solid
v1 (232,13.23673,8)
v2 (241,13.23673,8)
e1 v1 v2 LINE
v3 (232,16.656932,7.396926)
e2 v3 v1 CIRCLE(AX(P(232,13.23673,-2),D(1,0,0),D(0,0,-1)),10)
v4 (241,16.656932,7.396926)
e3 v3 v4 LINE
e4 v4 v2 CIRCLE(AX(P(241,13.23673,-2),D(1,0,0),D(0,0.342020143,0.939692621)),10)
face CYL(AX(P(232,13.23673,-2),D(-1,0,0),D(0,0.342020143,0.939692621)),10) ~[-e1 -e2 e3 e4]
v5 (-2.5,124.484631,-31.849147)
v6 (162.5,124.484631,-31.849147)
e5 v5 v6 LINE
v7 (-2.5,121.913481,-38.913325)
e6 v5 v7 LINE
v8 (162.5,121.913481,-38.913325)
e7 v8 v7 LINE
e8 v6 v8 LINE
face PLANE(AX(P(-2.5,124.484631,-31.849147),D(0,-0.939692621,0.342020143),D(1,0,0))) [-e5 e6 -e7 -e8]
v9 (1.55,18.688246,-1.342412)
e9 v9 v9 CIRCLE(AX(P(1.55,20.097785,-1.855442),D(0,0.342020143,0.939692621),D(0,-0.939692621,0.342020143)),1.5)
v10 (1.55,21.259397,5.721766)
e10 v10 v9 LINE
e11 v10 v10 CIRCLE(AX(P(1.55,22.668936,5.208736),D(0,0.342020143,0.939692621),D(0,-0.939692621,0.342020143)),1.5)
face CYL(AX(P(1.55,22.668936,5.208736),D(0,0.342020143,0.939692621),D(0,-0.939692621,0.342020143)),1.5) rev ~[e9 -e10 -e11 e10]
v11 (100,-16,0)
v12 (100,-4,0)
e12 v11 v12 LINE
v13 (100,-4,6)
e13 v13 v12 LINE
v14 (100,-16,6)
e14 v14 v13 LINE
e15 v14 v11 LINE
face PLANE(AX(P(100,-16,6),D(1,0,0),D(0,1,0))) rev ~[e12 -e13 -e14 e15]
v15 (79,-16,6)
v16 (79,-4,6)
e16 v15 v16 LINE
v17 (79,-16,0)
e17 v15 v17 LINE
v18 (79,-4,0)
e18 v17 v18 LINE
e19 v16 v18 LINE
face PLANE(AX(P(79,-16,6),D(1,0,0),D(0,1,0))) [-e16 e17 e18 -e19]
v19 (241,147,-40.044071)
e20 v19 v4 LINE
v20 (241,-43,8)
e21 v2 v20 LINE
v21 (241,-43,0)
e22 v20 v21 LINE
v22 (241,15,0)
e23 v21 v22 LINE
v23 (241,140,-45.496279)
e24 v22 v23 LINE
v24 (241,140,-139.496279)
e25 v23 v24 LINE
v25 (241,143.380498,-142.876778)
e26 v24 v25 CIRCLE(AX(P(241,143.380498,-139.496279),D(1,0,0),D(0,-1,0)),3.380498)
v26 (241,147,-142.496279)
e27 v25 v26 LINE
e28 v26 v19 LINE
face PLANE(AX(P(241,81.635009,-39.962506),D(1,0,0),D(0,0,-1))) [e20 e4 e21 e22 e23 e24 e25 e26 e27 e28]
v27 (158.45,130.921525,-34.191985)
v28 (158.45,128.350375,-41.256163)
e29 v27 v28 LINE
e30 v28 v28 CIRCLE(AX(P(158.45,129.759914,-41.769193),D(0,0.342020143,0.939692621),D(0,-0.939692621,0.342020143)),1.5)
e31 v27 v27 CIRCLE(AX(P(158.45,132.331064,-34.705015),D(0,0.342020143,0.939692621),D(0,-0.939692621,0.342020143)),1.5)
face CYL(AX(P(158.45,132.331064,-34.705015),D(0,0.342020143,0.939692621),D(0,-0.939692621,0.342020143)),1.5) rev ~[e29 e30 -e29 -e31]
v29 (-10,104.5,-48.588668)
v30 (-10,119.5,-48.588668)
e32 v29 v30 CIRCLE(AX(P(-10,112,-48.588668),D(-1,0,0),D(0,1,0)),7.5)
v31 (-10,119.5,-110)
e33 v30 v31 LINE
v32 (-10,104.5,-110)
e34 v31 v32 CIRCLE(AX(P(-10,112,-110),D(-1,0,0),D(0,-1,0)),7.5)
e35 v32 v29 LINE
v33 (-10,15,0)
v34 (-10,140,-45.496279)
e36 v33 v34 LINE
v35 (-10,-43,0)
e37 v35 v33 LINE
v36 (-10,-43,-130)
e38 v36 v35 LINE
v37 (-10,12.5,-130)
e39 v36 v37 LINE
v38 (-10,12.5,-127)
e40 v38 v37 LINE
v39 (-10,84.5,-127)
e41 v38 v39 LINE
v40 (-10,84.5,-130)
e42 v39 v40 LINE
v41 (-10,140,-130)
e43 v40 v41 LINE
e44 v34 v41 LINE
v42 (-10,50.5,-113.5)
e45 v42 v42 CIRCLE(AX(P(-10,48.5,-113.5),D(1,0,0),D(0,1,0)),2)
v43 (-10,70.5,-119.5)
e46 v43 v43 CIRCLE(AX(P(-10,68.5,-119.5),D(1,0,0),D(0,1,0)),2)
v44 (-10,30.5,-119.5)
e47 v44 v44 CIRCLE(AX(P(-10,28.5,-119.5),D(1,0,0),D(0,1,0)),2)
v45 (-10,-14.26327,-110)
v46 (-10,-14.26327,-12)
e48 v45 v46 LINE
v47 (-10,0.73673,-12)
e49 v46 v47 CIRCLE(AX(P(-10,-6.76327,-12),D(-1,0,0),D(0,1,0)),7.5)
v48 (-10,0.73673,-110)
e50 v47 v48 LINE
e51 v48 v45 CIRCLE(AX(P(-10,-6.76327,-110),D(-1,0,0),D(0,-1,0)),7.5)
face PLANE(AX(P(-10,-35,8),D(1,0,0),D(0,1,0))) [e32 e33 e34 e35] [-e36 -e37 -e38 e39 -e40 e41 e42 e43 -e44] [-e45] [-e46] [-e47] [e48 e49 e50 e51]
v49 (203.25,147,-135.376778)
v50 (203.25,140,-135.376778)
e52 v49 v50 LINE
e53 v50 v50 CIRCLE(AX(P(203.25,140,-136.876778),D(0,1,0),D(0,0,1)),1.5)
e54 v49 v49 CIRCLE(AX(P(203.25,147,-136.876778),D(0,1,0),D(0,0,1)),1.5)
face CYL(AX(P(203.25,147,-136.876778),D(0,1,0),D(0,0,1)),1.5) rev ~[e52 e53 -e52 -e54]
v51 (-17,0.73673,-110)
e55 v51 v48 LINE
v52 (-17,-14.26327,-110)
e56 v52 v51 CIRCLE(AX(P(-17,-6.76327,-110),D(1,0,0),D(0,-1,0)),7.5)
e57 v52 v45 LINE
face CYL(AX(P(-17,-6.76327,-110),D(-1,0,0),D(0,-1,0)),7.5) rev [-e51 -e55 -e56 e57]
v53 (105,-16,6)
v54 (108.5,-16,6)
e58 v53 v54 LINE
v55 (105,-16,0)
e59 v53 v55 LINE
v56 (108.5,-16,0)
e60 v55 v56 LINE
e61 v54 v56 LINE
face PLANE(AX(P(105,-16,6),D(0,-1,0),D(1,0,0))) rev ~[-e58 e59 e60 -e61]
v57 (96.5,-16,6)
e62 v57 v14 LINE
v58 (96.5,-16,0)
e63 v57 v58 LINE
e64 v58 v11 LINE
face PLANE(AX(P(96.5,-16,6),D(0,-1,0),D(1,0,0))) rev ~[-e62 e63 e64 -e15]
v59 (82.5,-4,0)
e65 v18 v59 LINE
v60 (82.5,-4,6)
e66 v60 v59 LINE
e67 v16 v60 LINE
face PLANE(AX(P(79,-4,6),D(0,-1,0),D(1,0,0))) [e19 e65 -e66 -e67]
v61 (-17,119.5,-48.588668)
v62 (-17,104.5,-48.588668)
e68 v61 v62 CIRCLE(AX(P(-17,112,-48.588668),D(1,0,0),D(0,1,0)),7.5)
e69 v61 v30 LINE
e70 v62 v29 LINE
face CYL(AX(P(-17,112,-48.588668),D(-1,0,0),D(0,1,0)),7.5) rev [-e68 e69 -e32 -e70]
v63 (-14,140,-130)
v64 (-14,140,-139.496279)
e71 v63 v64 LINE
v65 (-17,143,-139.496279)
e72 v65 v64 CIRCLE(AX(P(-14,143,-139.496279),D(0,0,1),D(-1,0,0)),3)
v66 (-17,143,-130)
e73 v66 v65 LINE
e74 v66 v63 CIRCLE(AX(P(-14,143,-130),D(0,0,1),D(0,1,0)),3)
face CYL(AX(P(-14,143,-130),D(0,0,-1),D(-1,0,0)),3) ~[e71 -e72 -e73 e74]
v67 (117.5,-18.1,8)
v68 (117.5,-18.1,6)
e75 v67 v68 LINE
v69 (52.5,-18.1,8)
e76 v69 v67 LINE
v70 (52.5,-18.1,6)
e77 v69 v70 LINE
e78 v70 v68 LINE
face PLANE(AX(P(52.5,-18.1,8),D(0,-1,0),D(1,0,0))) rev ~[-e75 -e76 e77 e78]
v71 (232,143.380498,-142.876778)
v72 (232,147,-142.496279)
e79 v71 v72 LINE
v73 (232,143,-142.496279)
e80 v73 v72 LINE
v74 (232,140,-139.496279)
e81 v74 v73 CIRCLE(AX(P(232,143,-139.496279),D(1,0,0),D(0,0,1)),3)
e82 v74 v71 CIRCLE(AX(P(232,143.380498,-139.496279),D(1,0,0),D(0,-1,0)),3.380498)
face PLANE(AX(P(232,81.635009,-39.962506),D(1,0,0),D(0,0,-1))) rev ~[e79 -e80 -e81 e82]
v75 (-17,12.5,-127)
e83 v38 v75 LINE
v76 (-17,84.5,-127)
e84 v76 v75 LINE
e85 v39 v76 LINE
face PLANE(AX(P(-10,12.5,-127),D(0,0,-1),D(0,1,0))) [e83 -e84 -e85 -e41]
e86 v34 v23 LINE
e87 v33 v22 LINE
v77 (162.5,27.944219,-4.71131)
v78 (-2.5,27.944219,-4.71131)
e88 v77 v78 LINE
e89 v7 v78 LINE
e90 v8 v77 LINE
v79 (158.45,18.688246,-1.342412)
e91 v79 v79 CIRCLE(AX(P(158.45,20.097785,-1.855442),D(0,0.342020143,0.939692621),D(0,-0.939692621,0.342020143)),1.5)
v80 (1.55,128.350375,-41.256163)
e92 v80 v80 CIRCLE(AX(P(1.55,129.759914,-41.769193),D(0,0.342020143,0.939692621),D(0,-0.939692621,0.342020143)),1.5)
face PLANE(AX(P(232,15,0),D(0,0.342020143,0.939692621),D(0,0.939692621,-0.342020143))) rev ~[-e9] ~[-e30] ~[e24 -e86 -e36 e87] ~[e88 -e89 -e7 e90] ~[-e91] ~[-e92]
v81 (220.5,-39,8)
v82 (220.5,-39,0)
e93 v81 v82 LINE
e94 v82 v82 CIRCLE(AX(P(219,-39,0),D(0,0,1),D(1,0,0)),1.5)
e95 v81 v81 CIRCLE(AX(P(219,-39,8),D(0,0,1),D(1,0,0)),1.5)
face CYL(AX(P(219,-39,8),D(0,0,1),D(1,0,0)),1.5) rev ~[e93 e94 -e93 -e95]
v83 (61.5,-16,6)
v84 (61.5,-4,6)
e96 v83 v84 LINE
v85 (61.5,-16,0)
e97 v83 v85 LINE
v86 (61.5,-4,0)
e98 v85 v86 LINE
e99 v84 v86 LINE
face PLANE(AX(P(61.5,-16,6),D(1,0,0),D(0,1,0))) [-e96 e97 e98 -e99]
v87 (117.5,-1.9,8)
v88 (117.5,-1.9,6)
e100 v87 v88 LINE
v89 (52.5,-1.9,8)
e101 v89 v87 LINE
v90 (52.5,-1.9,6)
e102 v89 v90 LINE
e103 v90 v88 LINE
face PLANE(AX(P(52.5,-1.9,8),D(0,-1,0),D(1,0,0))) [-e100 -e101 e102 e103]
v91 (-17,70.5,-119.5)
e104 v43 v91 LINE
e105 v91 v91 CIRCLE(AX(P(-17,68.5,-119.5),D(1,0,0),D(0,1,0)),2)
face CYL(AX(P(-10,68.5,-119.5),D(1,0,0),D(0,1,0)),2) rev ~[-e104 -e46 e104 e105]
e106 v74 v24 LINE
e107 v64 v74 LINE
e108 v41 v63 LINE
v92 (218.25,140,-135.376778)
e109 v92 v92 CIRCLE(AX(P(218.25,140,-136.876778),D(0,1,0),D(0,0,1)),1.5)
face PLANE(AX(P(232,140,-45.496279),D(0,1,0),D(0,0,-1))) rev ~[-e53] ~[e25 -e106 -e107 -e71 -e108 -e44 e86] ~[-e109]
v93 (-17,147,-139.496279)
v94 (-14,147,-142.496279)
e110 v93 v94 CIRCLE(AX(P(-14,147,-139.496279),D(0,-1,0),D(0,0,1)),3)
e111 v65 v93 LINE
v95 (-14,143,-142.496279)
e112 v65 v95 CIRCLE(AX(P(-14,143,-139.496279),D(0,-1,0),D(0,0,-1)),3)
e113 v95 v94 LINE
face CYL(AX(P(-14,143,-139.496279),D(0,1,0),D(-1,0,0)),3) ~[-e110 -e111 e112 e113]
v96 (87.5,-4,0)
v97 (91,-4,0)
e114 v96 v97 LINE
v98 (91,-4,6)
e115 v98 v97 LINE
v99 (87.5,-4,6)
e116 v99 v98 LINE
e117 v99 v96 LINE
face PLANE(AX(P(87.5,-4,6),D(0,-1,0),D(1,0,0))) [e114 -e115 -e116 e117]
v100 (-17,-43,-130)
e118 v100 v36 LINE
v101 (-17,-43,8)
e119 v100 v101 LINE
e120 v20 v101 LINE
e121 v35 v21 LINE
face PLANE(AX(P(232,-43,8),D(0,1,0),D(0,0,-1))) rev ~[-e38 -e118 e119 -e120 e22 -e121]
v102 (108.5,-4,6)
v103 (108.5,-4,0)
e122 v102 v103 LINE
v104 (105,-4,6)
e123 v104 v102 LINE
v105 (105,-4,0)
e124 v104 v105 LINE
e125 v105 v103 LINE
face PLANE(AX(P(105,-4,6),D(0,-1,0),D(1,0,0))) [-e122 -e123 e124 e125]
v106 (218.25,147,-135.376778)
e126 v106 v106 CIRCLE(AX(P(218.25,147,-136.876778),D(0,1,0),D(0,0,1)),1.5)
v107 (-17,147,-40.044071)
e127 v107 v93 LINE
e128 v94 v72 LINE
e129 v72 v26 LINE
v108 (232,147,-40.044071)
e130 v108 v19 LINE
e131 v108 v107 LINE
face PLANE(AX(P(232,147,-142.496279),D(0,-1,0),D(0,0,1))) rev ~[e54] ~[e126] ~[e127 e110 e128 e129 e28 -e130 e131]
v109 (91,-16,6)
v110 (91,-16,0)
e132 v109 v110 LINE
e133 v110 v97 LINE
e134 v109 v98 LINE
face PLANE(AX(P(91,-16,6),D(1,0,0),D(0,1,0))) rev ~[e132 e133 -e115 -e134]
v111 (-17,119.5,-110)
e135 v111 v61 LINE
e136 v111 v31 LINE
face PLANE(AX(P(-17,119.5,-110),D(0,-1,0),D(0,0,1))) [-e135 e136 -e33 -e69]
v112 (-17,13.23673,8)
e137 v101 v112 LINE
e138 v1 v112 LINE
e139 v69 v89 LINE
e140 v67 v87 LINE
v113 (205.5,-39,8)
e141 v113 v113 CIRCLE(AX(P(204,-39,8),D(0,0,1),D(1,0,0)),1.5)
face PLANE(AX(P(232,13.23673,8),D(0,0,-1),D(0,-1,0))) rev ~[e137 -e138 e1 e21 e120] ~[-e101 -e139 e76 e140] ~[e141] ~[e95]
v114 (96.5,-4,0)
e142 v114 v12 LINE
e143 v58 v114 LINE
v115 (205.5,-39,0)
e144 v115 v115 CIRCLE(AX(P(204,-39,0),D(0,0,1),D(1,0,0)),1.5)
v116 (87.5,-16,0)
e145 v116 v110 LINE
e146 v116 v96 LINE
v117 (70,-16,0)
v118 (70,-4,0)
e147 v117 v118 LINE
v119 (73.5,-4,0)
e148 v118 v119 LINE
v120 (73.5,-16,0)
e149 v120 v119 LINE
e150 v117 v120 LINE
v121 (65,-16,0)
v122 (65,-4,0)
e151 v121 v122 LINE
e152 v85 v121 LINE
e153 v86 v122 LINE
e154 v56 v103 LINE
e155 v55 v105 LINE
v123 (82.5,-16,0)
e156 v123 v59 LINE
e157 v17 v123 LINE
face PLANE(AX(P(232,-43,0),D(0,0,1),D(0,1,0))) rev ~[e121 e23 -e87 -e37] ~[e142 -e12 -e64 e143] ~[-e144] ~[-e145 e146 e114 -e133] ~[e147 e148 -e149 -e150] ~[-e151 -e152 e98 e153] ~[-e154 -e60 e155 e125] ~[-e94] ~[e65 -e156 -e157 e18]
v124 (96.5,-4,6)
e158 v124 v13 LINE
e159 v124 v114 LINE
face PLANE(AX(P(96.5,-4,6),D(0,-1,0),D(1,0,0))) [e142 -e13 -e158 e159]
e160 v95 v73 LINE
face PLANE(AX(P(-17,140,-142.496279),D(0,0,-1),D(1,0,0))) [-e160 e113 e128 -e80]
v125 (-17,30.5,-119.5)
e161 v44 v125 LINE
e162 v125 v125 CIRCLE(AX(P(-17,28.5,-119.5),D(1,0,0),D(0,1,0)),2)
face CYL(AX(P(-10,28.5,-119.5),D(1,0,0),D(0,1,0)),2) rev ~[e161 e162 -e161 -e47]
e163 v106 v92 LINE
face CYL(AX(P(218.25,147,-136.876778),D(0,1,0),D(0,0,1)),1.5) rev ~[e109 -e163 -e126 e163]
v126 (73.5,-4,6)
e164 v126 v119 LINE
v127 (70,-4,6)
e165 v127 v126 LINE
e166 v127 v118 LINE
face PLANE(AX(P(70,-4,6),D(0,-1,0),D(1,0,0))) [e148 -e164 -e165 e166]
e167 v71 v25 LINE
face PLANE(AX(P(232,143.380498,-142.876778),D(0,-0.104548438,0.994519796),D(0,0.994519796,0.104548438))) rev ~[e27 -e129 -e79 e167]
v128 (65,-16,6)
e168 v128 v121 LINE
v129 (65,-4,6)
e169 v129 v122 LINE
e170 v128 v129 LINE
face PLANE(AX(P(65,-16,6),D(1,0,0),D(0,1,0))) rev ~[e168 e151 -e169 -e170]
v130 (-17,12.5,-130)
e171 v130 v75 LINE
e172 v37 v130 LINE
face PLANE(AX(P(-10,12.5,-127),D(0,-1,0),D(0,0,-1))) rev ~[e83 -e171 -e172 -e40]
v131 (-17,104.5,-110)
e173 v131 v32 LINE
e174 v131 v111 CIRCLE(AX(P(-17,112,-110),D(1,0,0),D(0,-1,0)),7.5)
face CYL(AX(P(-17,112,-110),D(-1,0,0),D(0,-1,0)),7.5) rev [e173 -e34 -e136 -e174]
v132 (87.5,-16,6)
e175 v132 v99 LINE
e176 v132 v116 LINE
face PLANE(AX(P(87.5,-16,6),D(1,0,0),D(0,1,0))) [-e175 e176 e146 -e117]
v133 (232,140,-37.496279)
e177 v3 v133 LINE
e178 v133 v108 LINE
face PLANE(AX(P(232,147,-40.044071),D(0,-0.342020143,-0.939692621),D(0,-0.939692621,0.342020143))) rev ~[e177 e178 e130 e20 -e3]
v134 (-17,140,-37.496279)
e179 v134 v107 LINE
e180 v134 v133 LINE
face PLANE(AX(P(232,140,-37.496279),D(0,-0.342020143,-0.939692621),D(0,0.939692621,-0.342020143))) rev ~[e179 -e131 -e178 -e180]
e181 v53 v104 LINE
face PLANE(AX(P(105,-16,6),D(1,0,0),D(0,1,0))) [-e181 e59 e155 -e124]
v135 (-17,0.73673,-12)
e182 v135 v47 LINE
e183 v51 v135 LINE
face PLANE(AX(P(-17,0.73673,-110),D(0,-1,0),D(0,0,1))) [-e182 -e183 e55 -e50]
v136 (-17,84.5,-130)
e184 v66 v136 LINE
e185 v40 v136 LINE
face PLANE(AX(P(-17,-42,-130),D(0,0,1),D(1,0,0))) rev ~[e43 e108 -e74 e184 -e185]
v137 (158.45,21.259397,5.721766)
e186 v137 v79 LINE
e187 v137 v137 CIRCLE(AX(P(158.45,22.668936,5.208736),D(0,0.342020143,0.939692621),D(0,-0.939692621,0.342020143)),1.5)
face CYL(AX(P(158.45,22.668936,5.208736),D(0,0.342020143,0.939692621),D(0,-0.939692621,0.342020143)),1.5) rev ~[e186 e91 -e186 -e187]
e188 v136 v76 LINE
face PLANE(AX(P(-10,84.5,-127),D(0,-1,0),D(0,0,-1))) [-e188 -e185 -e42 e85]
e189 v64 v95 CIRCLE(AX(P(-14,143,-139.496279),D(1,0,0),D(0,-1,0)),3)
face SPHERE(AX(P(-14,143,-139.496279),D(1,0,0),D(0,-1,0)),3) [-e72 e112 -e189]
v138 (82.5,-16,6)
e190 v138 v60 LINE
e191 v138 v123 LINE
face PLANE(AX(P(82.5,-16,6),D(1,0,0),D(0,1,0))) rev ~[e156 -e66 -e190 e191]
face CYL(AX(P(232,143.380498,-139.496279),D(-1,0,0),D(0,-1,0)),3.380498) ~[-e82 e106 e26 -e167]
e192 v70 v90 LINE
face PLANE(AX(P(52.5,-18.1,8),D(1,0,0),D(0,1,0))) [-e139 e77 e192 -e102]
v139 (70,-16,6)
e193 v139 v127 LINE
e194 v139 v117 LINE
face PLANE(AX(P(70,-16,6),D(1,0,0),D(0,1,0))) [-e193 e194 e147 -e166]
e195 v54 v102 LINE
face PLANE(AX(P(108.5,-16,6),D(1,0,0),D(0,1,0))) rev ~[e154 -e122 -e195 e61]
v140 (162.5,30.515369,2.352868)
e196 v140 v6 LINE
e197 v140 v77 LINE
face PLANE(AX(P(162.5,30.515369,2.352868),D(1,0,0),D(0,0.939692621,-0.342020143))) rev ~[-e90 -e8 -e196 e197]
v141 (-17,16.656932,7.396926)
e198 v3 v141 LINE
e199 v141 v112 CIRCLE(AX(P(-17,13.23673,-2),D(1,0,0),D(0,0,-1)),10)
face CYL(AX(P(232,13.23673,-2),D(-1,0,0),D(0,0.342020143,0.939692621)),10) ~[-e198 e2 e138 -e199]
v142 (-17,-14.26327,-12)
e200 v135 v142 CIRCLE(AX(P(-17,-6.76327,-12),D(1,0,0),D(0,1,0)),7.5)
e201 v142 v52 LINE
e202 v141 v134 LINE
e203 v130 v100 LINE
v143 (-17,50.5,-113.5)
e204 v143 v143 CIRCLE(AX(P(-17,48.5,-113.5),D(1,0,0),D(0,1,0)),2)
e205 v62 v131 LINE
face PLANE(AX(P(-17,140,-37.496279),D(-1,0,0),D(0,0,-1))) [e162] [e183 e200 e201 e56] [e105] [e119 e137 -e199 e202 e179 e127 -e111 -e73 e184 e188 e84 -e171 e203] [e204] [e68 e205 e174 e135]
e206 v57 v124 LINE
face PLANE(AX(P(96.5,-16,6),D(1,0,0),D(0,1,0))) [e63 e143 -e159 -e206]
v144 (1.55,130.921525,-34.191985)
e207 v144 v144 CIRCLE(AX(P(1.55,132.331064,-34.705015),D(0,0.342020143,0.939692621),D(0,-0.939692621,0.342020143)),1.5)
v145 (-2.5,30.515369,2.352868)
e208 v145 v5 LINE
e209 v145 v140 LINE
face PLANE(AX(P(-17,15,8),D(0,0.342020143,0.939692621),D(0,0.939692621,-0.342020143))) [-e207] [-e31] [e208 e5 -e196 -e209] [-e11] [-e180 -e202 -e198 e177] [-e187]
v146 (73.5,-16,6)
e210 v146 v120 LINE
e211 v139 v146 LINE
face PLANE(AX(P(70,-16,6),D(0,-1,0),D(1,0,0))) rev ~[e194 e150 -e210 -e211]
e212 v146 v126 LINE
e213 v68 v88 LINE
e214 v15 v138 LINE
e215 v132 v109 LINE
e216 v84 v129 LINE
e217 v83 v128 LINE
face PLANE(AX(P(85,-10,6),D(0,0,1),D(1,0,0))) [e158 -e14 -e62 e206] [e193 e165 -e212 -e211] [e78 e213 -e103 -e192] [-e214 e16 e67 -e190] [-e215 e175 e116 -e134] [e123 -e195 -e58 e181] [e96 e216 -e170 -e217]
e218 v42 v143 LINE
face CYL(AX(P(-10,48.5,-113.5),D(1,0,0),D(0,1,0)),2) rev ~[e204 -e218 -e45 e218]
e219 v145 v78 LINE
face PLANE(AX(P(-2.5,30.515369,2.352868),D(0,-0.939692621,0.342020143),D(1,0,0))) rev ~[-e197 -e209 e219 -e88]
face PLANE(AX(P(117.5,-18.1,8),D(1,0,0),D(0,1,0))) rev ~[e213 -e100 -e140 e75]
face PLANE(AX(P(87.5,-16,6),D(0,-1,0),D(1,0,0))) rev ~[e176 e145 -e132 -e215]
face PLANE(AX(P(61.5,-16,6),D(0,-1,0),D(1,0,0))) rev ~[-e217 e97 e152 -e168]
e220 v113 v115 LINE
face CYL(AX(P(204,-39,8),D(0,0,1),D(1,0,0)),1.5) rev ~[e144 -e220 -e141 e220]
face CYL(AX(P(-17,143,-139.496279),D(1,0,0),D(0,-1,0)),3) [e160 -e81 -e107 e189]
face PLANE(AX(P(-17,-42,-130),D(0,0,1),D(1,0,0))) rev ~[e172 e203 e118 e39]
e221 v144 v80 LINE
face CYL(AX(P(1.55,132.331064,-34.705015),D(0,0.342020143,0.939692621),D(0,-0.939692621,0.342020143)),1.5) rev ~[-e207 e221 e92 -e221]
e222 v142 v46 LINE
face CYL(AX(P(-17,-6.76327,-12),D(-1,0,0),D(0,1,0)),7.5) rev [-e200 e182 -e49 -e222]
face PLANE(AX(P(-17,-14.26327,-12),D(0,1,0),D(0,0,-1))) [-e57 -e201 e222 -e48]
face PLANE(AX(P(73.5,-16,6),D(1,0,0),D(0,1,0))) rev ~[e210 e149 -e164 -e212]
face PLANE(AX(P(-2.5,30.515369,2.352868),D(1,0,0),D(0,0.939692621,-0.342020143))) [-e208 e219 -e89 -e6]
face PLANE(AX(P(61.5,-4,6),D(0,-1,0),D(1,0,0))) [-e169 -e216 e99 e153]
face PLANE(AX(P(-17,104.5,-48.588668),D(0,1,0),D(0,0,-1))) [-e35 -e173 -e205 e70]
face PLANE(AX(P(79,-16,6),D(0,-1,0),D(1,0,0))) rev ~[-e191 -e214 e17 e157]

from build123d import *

# Parameters (mm, degrees)
SKETCH1_W                = 170
SKETCH1_H                = 130
BOSS_EXTRUDE1_DEPTH      = 8
SKETCH2_R                = 1.5
SKETCH2_W                = 165
SKETCH2_H                = 100
CUT_EXTRUDE1_DEPTH       = 21
SKETCH3_W                = 170
SKETCH3_H                = 20
BOSS_EXTRUDE2_DEPTH      = 8
SKETCH4_W                = 65
SKETCH4_H                = 16.2
CUT_EXTRUDE2_DEPTH       = 2
SKETCH5_W                = 3.5
SKETCH5_H                = 12
CUT_EXTRUDE3_DEPTH       = 35
SKETCH6_W                = 170
SKETCH6_H                = 150
BOSS_EXTRUDE3_DEPTH      = 8
BOSS_EXTRUDE4_DEPTH      = 138
SKETCH8_W                = 249
SKETCH8_H                = 138
BOSS_EXTRUDE5_DEPTH      = 1
SKETCH9_W                = 72.8
SKETCH9_H                = 73.25
CUT_EXTRUDE4_DEPTH       = 19
BOSS_EXTRUDE6_DEPTH      = 5
SKETCH11_R               = 1.5
CUT_EXTRUDE5_DEPTH       = 56
SKETCH12_R               = 9
SKETCH12_R_2             = 6.5
SKETCH12_R_3             = 1
SKETCH12_R_4             = 2.75
CUT_EXTRUDE6_DEPTH       = 115
SKETCH13_W               = 58.59049163
SKETCH13_H               = 30.075830986
CUT_EXTRUDE7_DEPTH       = 3
FILLET1_R                = 2
SKETCH15_R               = 1.5
CUT_EXTRUDE8_DEPTH       = 10
CUT_EXTRUDE10_DEPTH      = 261
SKETCH19_R               = 1.5
BOSS_EXTRUDE7_DEPTH      = 8
BOSS_EXTRUDE12_START     = -124.5
BOSS_EXTRUDE12_DEPTH     = 249
SKETCH22_R               = 1.5
SKETCH22_W               = 165
SKETCH22_H               = 100
CUT_EXTRUDE11_DEPTH      = 18
FILLET2_R                = 10
SKETCH24_R               = 2
SKETCH24_W               = 3
SKETCH24_H               = 72
CUT_EXTRUDE15_DEPTH      = 42
CUT_EXTRUDE16_DEPTH      = 140
CUT_EXTRUDE16_DEPTH_BACK = 242
SKETCH27_W               = 249
SKETCH27_H               = 105
BOSS_EXTRUDE13_DEPTH     = 7
CUT_EXTRUDE17_DEPTH      = 249
FILLET6_R                = 3
FILLET7_R                = 3
BOSS_EXTRUDE14_DEPTH     = 9
SKETCH30_R               = 1.5
CUT_EXTRUDE18_DEPTH      = 10
SKETCH31_R               = 1.5
CUT_EXTRUDE19_DEPTH      = 49
CUT_EXTRUDE20_DEPTH      = 49


with BuildPart() as part:
    # Sketch1 → Boss-Extrude1 (new body)
    with BuildSketch(Plane.XY):
        with Locations((85, 65)):
            Rectangle(SKETCH1_W, SKETCH1_H)
    extrude(amount=BOSS_EXTRUDE1_DEPTH)

    # Sketch2 → Cut-Extrude1 (cut)
    with BuildSketch(Plane.XY.offset(8)):
        with Locations((6.55, 123.35)):
            Circle(SKETCH2_R)
        with Locations((163.45, 123.35)):
            Circle(SKETCH2_R)
        with Locations((6.55, 6.65)):
            Circle(SKETCH2_R)
        with Locations((163.45, 6.65)):
            Circle(SKETCH2_R)
        with Locations((85, 65)):
            Rectangle(SKETCH2_W, SKETCH2_H)
    extrude(amount=-CUT_EXTRUDE1_DEPTH, mode=Mode.SUBTRACT)

    # Sketch3 → Boss-Extrude2 (add)
    with BuildSketch(Plane.XY.offset(8)):
        with Locations((85, -10)):
            Rectangle(SKETCH3_W, SKETCH3_H)
    extrude(amount=-BOSS_EXTRUDE2_DEPTH)

    # Sketch4 → Cut-Extrude2 (cut)
    with BuildSketch(Plane.XY.offset(8)):
        with Locations((85, -10)):
            Rectangle(SKETCH4_W, SKETCH4_H)
    extrude(amount=-CUT_EXTRUDE2_DEPTH, mode=Mode.SUBTRACT)

    # Sketch5 → Cut-Extrude3 (cut)
    with BuildSketch(Plane.XY.offset(6)):
        with Locations((63.25, -10)):
            Rectangle(SKETCH5_W, SKETCH5_H)
        with Locations((71.75, -10)):
            Rectangle(SKETCH5_W, SKETCH5_H)
        with Locations((80.75, -10)):
            Rectangle(SKETCH5_W, SKETCH5_H)
        with Locations((89.25, -10)):
            Rectangle(SKETCH5_W, SKETCH5_H)
        with Locations((98.25, -10)):
            Rectangle(SKETCH5_W, SKETCH5_H)
        with Locations((106.75, -10)):
            Rectangle(SKETCH5_W, SKETCH5_H)
    extrude(amount=-CUT_EXTRUDE3_DEPTH, mode=Mode.SUBTRACT)

    # Sketch6 → Boss-Extrude3 (add)
    with BuildSketch(Plane.XY.offset(8)):
        Polygon((15.504384948, 140), (225, 140), (225, -35), (-10, -35), (-10, 140), align=None)
        with Locations((85, 55)):
            Rectangle(SKETCH6_W, SKETCH6_H, mode=Mode.SUBTRACT)
    extrude(amount=-BOSS_EXTRUDE3_DEPTH)

    # Sketch7 → Boss-Extrude4 (add)
    with BuildSketch(Plane.XY.offset(8)):
        Polygon((-10, 140), (-17, 140), (-17, -42), (232, -42), (232, 140), (225, 140), (225, -35), (-10, -35), align=None)
    extrude(amount=-BOSS_EXTRUDE4_DEPTH)

    # Sketch8 → Boss-Extrude5 (add)
    with BuildSketch(Plane.XZ.offset(42)):
        with Locations((107.5, -61)):
            Rectangle(SKETCH8_W, SKETCH8_H)
    extrude(amount=BOSS_EXTRUDE5_DEPTH)

    # Sketch9 → Cut-Extrude4 (cut)
    with BuildSketch(Plane(origin=(232, 0, 0), x_dir=(0, 0, -1), z_dir=(1, 0, 0))):
        with Locations((75, 35)):
            Rectangle(SKETCH9_W, SKETCH9_H)
    extrude(amount=-CUT_EXTRUDE4_DEPTH, mode=Mode.SUBTRACT)

    # Sketch10 → Boss-Extrude6 (add)
    with BuildSketch(Plane(origin=(232, 0, 0), x_dir=(0, 0, -1), z_dir=(1, 0, 0))):
        Polygon((36, 44), (36, -4), (114, -4), (114, 44), (119, 44), (119, -9), (31, -9), (31, 44), align=None)
    extrude(amount=BOSS_EXTRUDE6_DEPTH)

    # Sketch11 → Cut-Extrude5 (cut)
    with BuildSketch(Plane(origin=(237, 0, 0), x_dir=(0, 0, -1), z_dir=(1, 0, 0))):
        with Locations((33.5, 17.5)):
            Circle(SKETCH11_R)
        with Locations((116.5, 17.5)):
            Circle(SKETCH11_R)
    extrude(amount=-CUT_EXTRUDE5_DEPTH, mode=Mode.SUBTRACT)

    # Sketch12 → Cut-Extrude6 (cut)
    with BuildSketch(Plane(origin=(0, -35, 0), x_dir=(1, 0, 0), z_dir=(0, 1, 0))):
        with Locations(Location((166.25, 32.5, 0), (0, 0, 180))):
            Circle(SKETCH12_R)
        with Locations(Location((166.25, 97.5, 0), (0, 0, 180))):
            Circle(SKETCH12_R_2)
        with Locations(Location((155.75, 97.5, 0), (0, 0, 180))):
            Circle(SKETCH12_R_3)
        with Locations(Location((155.75, 85, 0), (0, 0, 180))):
            Circle(SKETCH12_R_3)
        with Locations(Location((176.75, 85, 0), (0, 0, 180))):
            Circle(SKETCH12_R_3)
        with Locations(Location((176.75, 97.5, 0), (0, 0, 180))):
            Circle(SKETCH12_R_3)
        with Locations(Location((145.25, 97.5, 0), (0, 0, 180))):
            Circle(SKETCH12_R_4)
        with Locations(Location((187.25, 97.5, 0), (0, 0, 180))):
            Circle(SKETCH12_R_4)
    extrude(amount=-CUT_EXTRUDE6_DEPTH, mode=Mode.SUBTRACT)

    # Sketch13 → Cut-Extrude7 (cut)
    with BuildSketch(Plane.XZ.offset(43)):
        with Locations((166.25, -93.48757215)):
            Rectangle(SKETCH13_W, SKETCH13_H)
    extrude(amount=-CUT_EXTRUDE7_DEPTH, mode=Mode.SUBTRACT)

    # Fillet1
    fillet1_edges = [part.edges().sort_by_distance(p)[0] for p in [
        (136.954754185, -40, -93.48757215),
        (166.25, -40, -78.449656657),
        (195.545245815, -40, -93.48757215),
        (166.25, -40, -108.525487643),
    ]]
    fillet(fillet1_edges, radius=FILLET1_R)

    # Sketch15 → Cut-Extrude8 (cut)
    with BuildSketch(Plane(origin=(0, 140, 0), x_dir=(1, 0, 0), z_dir=(0, 1, 0))):
        with Locations(Location((5, -4, 0), (0, 0, 270))):
            Circle(SKETCH15_R)
        with Locations(Location((20, -4, 0), (0, 0, 270))):
            Circle(SKETCH15_R)
        with Locations(Location((217, -4, 0), (0, 0, 90))):
            Circle(SKETCH15_R)
        with Locations(Location((202, -4, 0), (0, 0, 90))):
            Circle(SKETCH15_R)
    extrude(amount=-CUT_EXTRUDE8_DEPTH, mode=Mode.SUBTRACT)

    # Sketch18 → Cut-Extrude10 (cut)
    with BuildSketch(Plane(origin=(232, 0, 0), x_dir=(0, 0, -1), z_dir=(1, 0, 0))):
        Polygon((45.496279283, 140), (-8, 140), (-8, 15), (0, 15), align=None)
    extrude(amount=-CUT_EXTRUDE10_DEPTH, mode=Mode.SUBTRACT)

    # Sketch19 → Boss-Extrude7 (add)
    with BuildSketch(Plane.XY.offset(8)):
        with Locations((6.55, 6.65)):
            Circle(SKETCH19_R)
        with Locations((163.45, 6.65)):
            Circle(SKETCH19_R)
    extrude(amount=-BOSS_EXTRUDE7_DEPTH)

    # Sketch21 → Boss-Extrude12 (add)
    with BuildSketch(Plane(origin=(107.5, 0, 0), x_dir=(0, 0, -1), z_dir=(1, 0, 0)).offset(BOSS_EXTRUDE12_START)):
        Polygon((45.496279283, 140), (0, 15), (-8, 15), (37.496279283, 140), align=None)
    extrude(amount=BOSS_EXTRUDE12_DEPTH)

    # Sketch22 → Cut-Extrude11 (cut)
    with BuildSketch(Plane(origin=(0, 4.325817115, 11.885084845), x_dir=(1, 0, 0), z_dir=(0, 0.3420201433256603, 0.9396926207859115))):
        with Locations(Location((1.55, 136.220338945, 0), (0, 0, 270))):
            Circle(SKETCH22_R)
        with Locations(Location((158.45, 136.220338945, 0), (0, 0, 270))):
            Circle(SKETCH22_R)
        with Locations(Location((1.55, 19.520338945, 0), (0, 0, 270))):
            Circle(SKETCH22_R)
        with Locations(Location((158.45, 19.520338945, 0), (0, 0, 270))):
            Circle(SKETCH22_R)
        with Locations((80, 77.870338945)):
            Rectangle(SKETCH22_W, SKETCH22_H)
    extrude(amount=-CUT_EXTRUDE11_DEPTH, mode=Mode.SUBTRACT)

    # Fillet2
    fillet2_edges = [part.edges().sort_by_distance(p)[0] for p in [
        (107.5, 15, 8),
    ]]
    fillet(fillet2_edges, radius=FILLET2_R)

    # Sketch24 → Cut-Extrude15 (cut)
    with BuildSketch(Plane(origin=(-10, 0, 0), x_dir=(0, 0, -1), z_dir=(1, 0, 0))):
        with Locations(Location((113.5, 48.5, 0), (0, 0, 90))):
            Circle(SKETCH24_R)
        with Locations(Location((119.5, 68.5, 0), (0, 0, 90))):
            Circle(SKETCH24_R)
        with Locations(Location((119.5, 28.5, 0), (0, 0, 90))):
            Circle(SKETCH24_R)
        with Locations((128.5, 48.5)):
            Rectangle(SKETCH24_W, SKETCH24_H)
    extrude(amount=-CUT_EXTRUDE15_DEPTH, mode=Mode.SUBTRACT)

    # Sketch25 → Cut-Extrude16 (cut, two sides: drawn at the far end of the back side and taken through both)
    with BuildSketch(Plane(origin=(232, 0, 0), x_dir=(0, 0, -1), z_dir=(1, 0, 0)).offset(-CUT_EXTRUDE16_DEPTH_BACK)):
        Polygon((45.496279283, 140), (130, 140), (130, -43), (0, -43), (0, 15), align=None)
    extrude(amount=CUT_EXTRUDE16_DEPTH + CUT_EXTRUDE16_DEPTH_BACK, mode=Mode.SUBTRACT)

    # Sketch27 → Boss-Extrude13 (add)
    with BuildSketch(Plane(origin=(0, 140, 0), x_dir=(1, 0, 0), z_dir=(0, 1, 0))):
        with Locations((107.5, 89.996279283)):
            Rectangle(SKETCH27_W, SKETCH27_H)
    extrude(amount=BOSS_EXTRUDE13_DEPTH)

    # Sketch28 → Cut-Extrude17 (cut)
    with BuildSketch(Plane(origin=(232, 0, 0), x_dir=(0, 0, -1), z_dir=(1, 0, 0))):
        Polygon((37.496279283, 140), (40.044070923, 147), (37.496279283, 147), align=None)
    extrude(amount=-CUT_EXTRUDE17_DEPTH, mode=Mode.SUBTRACT)

    # Fillet6
    fillet6_edges = [part.edges().sort_by_distance(p)[0] for p in [
        (107.5, 140, -142.496279283),
    ]]
    fillet(fillet6_edges, radius=FILLET6_R)

    # Fillet7
    fillet7_edges = [part.edges().sort_by_distance(p)[0] for p in [
        (-17, 145, -142.496279283),
        (-17, 140, -134.748139642),
        (-17, 140.878679656, -141.617599627),
    ]]
    fillet(fillet7_edges, radius=FILLET7_R)

    # Sketch29 → Boss-Extrude14 (add)
    with BuildSketch(Plane(origin=(232, 0, 0), x_dir=(0, 0, -1), z_dir=(1, 0, 0))):
        with BuildLine():
            Line((-8, -43), (0, -43))
            Line((0, -43), (0, 15))
            Line((0, 15), (45.496279283, 140))
            Line((45.496279283, 140), (139.496279283, 140))
            ThreePointArc((139.496279283, 140), (141.886652657, 140.990125071), (142.876777727, 143.380498444))
            Line((142.876777727, 143.380498444), (142.496279283, 147))
            Line((142.496279283, 147), (40.044070923, 147))
            Line((40.044070923, 147), (-7.396926208, 16.656931626))
            ThreePointArc((-7.396926208, 16.656931626), (-7.84807753, 14.97321197), (-8, 13.236730193))
            Line((-8, 13.236730193), (-8, -43))
        make_face()
    extrude(amount=BOSS_EXTRUDE14_DEPTH)

    # Sketch30 → Cut-Extrude18 (cut)
    with BuildSketch(Plane(origin=(0, 147, 0), x_dir=(1, 0, 0), z_dir=(0, 1, 0))):
        with Locations(Location((218.25, 136.876777727, 0), (0, 0, 270))):
            Circle(SKETCH30_R)
        with Locations(Location((203.25, 136.876777727, 0), (0, 0, 270))):
            Circle(SKETCH30_R)
    extrude(amount=-CUT_EXTRUDE18_DEPTH, mode=Mode.SUBTRACT)

    # Sketch31 → Cut-Extrude19 (cut)
    with BuildSketch(Plane.XY.offset(8)):
        with Locations((219, -39)):
            Circle(SKETCH31_R)
        with Locations((204, -39)):
            Circle(SKETCH31_R)
    extrude(amount=-CUT_EXTRUDE19_DEPTH, mode=Mode.SUBTRACT)

    # Sketch32 → Cut-Extrude20 (cut)
    with BuildSketch(Plane.ZY.offset(17)):
        with BuildLine():
            Line((-110, 0.736730193), (-12, 0.736730193))
            ThreePointArc((-12, 0.736730193), (-4.5, -6.763269807), (-12, -14.263269807))
            Line((-12, -14.263269807), (-110, -14.263269807))
            ThreePointArc((-110, -14.263269807), (-117.5, -6.763269807), (-110, 0.736730193))
        make_face()
        with BuildLine():
            Line((-110, 119.5), (-48.588668173, 119.5))
            ThreePointArc((-48.588668173, 119.5), (-41.088668173, 112), (-48.588668173, 104.5))
            Line((-48.588668173, 104.5), (-110, 104.5))
            ThreePointArc((-110, 104.5), (-117.5, 112), (-110, 119.5))
        make_face()
    extrude(amount=-CUT_EXTRUDE20_DEPTH, mode=Mode.SUBTRACT)


solid = part.part
